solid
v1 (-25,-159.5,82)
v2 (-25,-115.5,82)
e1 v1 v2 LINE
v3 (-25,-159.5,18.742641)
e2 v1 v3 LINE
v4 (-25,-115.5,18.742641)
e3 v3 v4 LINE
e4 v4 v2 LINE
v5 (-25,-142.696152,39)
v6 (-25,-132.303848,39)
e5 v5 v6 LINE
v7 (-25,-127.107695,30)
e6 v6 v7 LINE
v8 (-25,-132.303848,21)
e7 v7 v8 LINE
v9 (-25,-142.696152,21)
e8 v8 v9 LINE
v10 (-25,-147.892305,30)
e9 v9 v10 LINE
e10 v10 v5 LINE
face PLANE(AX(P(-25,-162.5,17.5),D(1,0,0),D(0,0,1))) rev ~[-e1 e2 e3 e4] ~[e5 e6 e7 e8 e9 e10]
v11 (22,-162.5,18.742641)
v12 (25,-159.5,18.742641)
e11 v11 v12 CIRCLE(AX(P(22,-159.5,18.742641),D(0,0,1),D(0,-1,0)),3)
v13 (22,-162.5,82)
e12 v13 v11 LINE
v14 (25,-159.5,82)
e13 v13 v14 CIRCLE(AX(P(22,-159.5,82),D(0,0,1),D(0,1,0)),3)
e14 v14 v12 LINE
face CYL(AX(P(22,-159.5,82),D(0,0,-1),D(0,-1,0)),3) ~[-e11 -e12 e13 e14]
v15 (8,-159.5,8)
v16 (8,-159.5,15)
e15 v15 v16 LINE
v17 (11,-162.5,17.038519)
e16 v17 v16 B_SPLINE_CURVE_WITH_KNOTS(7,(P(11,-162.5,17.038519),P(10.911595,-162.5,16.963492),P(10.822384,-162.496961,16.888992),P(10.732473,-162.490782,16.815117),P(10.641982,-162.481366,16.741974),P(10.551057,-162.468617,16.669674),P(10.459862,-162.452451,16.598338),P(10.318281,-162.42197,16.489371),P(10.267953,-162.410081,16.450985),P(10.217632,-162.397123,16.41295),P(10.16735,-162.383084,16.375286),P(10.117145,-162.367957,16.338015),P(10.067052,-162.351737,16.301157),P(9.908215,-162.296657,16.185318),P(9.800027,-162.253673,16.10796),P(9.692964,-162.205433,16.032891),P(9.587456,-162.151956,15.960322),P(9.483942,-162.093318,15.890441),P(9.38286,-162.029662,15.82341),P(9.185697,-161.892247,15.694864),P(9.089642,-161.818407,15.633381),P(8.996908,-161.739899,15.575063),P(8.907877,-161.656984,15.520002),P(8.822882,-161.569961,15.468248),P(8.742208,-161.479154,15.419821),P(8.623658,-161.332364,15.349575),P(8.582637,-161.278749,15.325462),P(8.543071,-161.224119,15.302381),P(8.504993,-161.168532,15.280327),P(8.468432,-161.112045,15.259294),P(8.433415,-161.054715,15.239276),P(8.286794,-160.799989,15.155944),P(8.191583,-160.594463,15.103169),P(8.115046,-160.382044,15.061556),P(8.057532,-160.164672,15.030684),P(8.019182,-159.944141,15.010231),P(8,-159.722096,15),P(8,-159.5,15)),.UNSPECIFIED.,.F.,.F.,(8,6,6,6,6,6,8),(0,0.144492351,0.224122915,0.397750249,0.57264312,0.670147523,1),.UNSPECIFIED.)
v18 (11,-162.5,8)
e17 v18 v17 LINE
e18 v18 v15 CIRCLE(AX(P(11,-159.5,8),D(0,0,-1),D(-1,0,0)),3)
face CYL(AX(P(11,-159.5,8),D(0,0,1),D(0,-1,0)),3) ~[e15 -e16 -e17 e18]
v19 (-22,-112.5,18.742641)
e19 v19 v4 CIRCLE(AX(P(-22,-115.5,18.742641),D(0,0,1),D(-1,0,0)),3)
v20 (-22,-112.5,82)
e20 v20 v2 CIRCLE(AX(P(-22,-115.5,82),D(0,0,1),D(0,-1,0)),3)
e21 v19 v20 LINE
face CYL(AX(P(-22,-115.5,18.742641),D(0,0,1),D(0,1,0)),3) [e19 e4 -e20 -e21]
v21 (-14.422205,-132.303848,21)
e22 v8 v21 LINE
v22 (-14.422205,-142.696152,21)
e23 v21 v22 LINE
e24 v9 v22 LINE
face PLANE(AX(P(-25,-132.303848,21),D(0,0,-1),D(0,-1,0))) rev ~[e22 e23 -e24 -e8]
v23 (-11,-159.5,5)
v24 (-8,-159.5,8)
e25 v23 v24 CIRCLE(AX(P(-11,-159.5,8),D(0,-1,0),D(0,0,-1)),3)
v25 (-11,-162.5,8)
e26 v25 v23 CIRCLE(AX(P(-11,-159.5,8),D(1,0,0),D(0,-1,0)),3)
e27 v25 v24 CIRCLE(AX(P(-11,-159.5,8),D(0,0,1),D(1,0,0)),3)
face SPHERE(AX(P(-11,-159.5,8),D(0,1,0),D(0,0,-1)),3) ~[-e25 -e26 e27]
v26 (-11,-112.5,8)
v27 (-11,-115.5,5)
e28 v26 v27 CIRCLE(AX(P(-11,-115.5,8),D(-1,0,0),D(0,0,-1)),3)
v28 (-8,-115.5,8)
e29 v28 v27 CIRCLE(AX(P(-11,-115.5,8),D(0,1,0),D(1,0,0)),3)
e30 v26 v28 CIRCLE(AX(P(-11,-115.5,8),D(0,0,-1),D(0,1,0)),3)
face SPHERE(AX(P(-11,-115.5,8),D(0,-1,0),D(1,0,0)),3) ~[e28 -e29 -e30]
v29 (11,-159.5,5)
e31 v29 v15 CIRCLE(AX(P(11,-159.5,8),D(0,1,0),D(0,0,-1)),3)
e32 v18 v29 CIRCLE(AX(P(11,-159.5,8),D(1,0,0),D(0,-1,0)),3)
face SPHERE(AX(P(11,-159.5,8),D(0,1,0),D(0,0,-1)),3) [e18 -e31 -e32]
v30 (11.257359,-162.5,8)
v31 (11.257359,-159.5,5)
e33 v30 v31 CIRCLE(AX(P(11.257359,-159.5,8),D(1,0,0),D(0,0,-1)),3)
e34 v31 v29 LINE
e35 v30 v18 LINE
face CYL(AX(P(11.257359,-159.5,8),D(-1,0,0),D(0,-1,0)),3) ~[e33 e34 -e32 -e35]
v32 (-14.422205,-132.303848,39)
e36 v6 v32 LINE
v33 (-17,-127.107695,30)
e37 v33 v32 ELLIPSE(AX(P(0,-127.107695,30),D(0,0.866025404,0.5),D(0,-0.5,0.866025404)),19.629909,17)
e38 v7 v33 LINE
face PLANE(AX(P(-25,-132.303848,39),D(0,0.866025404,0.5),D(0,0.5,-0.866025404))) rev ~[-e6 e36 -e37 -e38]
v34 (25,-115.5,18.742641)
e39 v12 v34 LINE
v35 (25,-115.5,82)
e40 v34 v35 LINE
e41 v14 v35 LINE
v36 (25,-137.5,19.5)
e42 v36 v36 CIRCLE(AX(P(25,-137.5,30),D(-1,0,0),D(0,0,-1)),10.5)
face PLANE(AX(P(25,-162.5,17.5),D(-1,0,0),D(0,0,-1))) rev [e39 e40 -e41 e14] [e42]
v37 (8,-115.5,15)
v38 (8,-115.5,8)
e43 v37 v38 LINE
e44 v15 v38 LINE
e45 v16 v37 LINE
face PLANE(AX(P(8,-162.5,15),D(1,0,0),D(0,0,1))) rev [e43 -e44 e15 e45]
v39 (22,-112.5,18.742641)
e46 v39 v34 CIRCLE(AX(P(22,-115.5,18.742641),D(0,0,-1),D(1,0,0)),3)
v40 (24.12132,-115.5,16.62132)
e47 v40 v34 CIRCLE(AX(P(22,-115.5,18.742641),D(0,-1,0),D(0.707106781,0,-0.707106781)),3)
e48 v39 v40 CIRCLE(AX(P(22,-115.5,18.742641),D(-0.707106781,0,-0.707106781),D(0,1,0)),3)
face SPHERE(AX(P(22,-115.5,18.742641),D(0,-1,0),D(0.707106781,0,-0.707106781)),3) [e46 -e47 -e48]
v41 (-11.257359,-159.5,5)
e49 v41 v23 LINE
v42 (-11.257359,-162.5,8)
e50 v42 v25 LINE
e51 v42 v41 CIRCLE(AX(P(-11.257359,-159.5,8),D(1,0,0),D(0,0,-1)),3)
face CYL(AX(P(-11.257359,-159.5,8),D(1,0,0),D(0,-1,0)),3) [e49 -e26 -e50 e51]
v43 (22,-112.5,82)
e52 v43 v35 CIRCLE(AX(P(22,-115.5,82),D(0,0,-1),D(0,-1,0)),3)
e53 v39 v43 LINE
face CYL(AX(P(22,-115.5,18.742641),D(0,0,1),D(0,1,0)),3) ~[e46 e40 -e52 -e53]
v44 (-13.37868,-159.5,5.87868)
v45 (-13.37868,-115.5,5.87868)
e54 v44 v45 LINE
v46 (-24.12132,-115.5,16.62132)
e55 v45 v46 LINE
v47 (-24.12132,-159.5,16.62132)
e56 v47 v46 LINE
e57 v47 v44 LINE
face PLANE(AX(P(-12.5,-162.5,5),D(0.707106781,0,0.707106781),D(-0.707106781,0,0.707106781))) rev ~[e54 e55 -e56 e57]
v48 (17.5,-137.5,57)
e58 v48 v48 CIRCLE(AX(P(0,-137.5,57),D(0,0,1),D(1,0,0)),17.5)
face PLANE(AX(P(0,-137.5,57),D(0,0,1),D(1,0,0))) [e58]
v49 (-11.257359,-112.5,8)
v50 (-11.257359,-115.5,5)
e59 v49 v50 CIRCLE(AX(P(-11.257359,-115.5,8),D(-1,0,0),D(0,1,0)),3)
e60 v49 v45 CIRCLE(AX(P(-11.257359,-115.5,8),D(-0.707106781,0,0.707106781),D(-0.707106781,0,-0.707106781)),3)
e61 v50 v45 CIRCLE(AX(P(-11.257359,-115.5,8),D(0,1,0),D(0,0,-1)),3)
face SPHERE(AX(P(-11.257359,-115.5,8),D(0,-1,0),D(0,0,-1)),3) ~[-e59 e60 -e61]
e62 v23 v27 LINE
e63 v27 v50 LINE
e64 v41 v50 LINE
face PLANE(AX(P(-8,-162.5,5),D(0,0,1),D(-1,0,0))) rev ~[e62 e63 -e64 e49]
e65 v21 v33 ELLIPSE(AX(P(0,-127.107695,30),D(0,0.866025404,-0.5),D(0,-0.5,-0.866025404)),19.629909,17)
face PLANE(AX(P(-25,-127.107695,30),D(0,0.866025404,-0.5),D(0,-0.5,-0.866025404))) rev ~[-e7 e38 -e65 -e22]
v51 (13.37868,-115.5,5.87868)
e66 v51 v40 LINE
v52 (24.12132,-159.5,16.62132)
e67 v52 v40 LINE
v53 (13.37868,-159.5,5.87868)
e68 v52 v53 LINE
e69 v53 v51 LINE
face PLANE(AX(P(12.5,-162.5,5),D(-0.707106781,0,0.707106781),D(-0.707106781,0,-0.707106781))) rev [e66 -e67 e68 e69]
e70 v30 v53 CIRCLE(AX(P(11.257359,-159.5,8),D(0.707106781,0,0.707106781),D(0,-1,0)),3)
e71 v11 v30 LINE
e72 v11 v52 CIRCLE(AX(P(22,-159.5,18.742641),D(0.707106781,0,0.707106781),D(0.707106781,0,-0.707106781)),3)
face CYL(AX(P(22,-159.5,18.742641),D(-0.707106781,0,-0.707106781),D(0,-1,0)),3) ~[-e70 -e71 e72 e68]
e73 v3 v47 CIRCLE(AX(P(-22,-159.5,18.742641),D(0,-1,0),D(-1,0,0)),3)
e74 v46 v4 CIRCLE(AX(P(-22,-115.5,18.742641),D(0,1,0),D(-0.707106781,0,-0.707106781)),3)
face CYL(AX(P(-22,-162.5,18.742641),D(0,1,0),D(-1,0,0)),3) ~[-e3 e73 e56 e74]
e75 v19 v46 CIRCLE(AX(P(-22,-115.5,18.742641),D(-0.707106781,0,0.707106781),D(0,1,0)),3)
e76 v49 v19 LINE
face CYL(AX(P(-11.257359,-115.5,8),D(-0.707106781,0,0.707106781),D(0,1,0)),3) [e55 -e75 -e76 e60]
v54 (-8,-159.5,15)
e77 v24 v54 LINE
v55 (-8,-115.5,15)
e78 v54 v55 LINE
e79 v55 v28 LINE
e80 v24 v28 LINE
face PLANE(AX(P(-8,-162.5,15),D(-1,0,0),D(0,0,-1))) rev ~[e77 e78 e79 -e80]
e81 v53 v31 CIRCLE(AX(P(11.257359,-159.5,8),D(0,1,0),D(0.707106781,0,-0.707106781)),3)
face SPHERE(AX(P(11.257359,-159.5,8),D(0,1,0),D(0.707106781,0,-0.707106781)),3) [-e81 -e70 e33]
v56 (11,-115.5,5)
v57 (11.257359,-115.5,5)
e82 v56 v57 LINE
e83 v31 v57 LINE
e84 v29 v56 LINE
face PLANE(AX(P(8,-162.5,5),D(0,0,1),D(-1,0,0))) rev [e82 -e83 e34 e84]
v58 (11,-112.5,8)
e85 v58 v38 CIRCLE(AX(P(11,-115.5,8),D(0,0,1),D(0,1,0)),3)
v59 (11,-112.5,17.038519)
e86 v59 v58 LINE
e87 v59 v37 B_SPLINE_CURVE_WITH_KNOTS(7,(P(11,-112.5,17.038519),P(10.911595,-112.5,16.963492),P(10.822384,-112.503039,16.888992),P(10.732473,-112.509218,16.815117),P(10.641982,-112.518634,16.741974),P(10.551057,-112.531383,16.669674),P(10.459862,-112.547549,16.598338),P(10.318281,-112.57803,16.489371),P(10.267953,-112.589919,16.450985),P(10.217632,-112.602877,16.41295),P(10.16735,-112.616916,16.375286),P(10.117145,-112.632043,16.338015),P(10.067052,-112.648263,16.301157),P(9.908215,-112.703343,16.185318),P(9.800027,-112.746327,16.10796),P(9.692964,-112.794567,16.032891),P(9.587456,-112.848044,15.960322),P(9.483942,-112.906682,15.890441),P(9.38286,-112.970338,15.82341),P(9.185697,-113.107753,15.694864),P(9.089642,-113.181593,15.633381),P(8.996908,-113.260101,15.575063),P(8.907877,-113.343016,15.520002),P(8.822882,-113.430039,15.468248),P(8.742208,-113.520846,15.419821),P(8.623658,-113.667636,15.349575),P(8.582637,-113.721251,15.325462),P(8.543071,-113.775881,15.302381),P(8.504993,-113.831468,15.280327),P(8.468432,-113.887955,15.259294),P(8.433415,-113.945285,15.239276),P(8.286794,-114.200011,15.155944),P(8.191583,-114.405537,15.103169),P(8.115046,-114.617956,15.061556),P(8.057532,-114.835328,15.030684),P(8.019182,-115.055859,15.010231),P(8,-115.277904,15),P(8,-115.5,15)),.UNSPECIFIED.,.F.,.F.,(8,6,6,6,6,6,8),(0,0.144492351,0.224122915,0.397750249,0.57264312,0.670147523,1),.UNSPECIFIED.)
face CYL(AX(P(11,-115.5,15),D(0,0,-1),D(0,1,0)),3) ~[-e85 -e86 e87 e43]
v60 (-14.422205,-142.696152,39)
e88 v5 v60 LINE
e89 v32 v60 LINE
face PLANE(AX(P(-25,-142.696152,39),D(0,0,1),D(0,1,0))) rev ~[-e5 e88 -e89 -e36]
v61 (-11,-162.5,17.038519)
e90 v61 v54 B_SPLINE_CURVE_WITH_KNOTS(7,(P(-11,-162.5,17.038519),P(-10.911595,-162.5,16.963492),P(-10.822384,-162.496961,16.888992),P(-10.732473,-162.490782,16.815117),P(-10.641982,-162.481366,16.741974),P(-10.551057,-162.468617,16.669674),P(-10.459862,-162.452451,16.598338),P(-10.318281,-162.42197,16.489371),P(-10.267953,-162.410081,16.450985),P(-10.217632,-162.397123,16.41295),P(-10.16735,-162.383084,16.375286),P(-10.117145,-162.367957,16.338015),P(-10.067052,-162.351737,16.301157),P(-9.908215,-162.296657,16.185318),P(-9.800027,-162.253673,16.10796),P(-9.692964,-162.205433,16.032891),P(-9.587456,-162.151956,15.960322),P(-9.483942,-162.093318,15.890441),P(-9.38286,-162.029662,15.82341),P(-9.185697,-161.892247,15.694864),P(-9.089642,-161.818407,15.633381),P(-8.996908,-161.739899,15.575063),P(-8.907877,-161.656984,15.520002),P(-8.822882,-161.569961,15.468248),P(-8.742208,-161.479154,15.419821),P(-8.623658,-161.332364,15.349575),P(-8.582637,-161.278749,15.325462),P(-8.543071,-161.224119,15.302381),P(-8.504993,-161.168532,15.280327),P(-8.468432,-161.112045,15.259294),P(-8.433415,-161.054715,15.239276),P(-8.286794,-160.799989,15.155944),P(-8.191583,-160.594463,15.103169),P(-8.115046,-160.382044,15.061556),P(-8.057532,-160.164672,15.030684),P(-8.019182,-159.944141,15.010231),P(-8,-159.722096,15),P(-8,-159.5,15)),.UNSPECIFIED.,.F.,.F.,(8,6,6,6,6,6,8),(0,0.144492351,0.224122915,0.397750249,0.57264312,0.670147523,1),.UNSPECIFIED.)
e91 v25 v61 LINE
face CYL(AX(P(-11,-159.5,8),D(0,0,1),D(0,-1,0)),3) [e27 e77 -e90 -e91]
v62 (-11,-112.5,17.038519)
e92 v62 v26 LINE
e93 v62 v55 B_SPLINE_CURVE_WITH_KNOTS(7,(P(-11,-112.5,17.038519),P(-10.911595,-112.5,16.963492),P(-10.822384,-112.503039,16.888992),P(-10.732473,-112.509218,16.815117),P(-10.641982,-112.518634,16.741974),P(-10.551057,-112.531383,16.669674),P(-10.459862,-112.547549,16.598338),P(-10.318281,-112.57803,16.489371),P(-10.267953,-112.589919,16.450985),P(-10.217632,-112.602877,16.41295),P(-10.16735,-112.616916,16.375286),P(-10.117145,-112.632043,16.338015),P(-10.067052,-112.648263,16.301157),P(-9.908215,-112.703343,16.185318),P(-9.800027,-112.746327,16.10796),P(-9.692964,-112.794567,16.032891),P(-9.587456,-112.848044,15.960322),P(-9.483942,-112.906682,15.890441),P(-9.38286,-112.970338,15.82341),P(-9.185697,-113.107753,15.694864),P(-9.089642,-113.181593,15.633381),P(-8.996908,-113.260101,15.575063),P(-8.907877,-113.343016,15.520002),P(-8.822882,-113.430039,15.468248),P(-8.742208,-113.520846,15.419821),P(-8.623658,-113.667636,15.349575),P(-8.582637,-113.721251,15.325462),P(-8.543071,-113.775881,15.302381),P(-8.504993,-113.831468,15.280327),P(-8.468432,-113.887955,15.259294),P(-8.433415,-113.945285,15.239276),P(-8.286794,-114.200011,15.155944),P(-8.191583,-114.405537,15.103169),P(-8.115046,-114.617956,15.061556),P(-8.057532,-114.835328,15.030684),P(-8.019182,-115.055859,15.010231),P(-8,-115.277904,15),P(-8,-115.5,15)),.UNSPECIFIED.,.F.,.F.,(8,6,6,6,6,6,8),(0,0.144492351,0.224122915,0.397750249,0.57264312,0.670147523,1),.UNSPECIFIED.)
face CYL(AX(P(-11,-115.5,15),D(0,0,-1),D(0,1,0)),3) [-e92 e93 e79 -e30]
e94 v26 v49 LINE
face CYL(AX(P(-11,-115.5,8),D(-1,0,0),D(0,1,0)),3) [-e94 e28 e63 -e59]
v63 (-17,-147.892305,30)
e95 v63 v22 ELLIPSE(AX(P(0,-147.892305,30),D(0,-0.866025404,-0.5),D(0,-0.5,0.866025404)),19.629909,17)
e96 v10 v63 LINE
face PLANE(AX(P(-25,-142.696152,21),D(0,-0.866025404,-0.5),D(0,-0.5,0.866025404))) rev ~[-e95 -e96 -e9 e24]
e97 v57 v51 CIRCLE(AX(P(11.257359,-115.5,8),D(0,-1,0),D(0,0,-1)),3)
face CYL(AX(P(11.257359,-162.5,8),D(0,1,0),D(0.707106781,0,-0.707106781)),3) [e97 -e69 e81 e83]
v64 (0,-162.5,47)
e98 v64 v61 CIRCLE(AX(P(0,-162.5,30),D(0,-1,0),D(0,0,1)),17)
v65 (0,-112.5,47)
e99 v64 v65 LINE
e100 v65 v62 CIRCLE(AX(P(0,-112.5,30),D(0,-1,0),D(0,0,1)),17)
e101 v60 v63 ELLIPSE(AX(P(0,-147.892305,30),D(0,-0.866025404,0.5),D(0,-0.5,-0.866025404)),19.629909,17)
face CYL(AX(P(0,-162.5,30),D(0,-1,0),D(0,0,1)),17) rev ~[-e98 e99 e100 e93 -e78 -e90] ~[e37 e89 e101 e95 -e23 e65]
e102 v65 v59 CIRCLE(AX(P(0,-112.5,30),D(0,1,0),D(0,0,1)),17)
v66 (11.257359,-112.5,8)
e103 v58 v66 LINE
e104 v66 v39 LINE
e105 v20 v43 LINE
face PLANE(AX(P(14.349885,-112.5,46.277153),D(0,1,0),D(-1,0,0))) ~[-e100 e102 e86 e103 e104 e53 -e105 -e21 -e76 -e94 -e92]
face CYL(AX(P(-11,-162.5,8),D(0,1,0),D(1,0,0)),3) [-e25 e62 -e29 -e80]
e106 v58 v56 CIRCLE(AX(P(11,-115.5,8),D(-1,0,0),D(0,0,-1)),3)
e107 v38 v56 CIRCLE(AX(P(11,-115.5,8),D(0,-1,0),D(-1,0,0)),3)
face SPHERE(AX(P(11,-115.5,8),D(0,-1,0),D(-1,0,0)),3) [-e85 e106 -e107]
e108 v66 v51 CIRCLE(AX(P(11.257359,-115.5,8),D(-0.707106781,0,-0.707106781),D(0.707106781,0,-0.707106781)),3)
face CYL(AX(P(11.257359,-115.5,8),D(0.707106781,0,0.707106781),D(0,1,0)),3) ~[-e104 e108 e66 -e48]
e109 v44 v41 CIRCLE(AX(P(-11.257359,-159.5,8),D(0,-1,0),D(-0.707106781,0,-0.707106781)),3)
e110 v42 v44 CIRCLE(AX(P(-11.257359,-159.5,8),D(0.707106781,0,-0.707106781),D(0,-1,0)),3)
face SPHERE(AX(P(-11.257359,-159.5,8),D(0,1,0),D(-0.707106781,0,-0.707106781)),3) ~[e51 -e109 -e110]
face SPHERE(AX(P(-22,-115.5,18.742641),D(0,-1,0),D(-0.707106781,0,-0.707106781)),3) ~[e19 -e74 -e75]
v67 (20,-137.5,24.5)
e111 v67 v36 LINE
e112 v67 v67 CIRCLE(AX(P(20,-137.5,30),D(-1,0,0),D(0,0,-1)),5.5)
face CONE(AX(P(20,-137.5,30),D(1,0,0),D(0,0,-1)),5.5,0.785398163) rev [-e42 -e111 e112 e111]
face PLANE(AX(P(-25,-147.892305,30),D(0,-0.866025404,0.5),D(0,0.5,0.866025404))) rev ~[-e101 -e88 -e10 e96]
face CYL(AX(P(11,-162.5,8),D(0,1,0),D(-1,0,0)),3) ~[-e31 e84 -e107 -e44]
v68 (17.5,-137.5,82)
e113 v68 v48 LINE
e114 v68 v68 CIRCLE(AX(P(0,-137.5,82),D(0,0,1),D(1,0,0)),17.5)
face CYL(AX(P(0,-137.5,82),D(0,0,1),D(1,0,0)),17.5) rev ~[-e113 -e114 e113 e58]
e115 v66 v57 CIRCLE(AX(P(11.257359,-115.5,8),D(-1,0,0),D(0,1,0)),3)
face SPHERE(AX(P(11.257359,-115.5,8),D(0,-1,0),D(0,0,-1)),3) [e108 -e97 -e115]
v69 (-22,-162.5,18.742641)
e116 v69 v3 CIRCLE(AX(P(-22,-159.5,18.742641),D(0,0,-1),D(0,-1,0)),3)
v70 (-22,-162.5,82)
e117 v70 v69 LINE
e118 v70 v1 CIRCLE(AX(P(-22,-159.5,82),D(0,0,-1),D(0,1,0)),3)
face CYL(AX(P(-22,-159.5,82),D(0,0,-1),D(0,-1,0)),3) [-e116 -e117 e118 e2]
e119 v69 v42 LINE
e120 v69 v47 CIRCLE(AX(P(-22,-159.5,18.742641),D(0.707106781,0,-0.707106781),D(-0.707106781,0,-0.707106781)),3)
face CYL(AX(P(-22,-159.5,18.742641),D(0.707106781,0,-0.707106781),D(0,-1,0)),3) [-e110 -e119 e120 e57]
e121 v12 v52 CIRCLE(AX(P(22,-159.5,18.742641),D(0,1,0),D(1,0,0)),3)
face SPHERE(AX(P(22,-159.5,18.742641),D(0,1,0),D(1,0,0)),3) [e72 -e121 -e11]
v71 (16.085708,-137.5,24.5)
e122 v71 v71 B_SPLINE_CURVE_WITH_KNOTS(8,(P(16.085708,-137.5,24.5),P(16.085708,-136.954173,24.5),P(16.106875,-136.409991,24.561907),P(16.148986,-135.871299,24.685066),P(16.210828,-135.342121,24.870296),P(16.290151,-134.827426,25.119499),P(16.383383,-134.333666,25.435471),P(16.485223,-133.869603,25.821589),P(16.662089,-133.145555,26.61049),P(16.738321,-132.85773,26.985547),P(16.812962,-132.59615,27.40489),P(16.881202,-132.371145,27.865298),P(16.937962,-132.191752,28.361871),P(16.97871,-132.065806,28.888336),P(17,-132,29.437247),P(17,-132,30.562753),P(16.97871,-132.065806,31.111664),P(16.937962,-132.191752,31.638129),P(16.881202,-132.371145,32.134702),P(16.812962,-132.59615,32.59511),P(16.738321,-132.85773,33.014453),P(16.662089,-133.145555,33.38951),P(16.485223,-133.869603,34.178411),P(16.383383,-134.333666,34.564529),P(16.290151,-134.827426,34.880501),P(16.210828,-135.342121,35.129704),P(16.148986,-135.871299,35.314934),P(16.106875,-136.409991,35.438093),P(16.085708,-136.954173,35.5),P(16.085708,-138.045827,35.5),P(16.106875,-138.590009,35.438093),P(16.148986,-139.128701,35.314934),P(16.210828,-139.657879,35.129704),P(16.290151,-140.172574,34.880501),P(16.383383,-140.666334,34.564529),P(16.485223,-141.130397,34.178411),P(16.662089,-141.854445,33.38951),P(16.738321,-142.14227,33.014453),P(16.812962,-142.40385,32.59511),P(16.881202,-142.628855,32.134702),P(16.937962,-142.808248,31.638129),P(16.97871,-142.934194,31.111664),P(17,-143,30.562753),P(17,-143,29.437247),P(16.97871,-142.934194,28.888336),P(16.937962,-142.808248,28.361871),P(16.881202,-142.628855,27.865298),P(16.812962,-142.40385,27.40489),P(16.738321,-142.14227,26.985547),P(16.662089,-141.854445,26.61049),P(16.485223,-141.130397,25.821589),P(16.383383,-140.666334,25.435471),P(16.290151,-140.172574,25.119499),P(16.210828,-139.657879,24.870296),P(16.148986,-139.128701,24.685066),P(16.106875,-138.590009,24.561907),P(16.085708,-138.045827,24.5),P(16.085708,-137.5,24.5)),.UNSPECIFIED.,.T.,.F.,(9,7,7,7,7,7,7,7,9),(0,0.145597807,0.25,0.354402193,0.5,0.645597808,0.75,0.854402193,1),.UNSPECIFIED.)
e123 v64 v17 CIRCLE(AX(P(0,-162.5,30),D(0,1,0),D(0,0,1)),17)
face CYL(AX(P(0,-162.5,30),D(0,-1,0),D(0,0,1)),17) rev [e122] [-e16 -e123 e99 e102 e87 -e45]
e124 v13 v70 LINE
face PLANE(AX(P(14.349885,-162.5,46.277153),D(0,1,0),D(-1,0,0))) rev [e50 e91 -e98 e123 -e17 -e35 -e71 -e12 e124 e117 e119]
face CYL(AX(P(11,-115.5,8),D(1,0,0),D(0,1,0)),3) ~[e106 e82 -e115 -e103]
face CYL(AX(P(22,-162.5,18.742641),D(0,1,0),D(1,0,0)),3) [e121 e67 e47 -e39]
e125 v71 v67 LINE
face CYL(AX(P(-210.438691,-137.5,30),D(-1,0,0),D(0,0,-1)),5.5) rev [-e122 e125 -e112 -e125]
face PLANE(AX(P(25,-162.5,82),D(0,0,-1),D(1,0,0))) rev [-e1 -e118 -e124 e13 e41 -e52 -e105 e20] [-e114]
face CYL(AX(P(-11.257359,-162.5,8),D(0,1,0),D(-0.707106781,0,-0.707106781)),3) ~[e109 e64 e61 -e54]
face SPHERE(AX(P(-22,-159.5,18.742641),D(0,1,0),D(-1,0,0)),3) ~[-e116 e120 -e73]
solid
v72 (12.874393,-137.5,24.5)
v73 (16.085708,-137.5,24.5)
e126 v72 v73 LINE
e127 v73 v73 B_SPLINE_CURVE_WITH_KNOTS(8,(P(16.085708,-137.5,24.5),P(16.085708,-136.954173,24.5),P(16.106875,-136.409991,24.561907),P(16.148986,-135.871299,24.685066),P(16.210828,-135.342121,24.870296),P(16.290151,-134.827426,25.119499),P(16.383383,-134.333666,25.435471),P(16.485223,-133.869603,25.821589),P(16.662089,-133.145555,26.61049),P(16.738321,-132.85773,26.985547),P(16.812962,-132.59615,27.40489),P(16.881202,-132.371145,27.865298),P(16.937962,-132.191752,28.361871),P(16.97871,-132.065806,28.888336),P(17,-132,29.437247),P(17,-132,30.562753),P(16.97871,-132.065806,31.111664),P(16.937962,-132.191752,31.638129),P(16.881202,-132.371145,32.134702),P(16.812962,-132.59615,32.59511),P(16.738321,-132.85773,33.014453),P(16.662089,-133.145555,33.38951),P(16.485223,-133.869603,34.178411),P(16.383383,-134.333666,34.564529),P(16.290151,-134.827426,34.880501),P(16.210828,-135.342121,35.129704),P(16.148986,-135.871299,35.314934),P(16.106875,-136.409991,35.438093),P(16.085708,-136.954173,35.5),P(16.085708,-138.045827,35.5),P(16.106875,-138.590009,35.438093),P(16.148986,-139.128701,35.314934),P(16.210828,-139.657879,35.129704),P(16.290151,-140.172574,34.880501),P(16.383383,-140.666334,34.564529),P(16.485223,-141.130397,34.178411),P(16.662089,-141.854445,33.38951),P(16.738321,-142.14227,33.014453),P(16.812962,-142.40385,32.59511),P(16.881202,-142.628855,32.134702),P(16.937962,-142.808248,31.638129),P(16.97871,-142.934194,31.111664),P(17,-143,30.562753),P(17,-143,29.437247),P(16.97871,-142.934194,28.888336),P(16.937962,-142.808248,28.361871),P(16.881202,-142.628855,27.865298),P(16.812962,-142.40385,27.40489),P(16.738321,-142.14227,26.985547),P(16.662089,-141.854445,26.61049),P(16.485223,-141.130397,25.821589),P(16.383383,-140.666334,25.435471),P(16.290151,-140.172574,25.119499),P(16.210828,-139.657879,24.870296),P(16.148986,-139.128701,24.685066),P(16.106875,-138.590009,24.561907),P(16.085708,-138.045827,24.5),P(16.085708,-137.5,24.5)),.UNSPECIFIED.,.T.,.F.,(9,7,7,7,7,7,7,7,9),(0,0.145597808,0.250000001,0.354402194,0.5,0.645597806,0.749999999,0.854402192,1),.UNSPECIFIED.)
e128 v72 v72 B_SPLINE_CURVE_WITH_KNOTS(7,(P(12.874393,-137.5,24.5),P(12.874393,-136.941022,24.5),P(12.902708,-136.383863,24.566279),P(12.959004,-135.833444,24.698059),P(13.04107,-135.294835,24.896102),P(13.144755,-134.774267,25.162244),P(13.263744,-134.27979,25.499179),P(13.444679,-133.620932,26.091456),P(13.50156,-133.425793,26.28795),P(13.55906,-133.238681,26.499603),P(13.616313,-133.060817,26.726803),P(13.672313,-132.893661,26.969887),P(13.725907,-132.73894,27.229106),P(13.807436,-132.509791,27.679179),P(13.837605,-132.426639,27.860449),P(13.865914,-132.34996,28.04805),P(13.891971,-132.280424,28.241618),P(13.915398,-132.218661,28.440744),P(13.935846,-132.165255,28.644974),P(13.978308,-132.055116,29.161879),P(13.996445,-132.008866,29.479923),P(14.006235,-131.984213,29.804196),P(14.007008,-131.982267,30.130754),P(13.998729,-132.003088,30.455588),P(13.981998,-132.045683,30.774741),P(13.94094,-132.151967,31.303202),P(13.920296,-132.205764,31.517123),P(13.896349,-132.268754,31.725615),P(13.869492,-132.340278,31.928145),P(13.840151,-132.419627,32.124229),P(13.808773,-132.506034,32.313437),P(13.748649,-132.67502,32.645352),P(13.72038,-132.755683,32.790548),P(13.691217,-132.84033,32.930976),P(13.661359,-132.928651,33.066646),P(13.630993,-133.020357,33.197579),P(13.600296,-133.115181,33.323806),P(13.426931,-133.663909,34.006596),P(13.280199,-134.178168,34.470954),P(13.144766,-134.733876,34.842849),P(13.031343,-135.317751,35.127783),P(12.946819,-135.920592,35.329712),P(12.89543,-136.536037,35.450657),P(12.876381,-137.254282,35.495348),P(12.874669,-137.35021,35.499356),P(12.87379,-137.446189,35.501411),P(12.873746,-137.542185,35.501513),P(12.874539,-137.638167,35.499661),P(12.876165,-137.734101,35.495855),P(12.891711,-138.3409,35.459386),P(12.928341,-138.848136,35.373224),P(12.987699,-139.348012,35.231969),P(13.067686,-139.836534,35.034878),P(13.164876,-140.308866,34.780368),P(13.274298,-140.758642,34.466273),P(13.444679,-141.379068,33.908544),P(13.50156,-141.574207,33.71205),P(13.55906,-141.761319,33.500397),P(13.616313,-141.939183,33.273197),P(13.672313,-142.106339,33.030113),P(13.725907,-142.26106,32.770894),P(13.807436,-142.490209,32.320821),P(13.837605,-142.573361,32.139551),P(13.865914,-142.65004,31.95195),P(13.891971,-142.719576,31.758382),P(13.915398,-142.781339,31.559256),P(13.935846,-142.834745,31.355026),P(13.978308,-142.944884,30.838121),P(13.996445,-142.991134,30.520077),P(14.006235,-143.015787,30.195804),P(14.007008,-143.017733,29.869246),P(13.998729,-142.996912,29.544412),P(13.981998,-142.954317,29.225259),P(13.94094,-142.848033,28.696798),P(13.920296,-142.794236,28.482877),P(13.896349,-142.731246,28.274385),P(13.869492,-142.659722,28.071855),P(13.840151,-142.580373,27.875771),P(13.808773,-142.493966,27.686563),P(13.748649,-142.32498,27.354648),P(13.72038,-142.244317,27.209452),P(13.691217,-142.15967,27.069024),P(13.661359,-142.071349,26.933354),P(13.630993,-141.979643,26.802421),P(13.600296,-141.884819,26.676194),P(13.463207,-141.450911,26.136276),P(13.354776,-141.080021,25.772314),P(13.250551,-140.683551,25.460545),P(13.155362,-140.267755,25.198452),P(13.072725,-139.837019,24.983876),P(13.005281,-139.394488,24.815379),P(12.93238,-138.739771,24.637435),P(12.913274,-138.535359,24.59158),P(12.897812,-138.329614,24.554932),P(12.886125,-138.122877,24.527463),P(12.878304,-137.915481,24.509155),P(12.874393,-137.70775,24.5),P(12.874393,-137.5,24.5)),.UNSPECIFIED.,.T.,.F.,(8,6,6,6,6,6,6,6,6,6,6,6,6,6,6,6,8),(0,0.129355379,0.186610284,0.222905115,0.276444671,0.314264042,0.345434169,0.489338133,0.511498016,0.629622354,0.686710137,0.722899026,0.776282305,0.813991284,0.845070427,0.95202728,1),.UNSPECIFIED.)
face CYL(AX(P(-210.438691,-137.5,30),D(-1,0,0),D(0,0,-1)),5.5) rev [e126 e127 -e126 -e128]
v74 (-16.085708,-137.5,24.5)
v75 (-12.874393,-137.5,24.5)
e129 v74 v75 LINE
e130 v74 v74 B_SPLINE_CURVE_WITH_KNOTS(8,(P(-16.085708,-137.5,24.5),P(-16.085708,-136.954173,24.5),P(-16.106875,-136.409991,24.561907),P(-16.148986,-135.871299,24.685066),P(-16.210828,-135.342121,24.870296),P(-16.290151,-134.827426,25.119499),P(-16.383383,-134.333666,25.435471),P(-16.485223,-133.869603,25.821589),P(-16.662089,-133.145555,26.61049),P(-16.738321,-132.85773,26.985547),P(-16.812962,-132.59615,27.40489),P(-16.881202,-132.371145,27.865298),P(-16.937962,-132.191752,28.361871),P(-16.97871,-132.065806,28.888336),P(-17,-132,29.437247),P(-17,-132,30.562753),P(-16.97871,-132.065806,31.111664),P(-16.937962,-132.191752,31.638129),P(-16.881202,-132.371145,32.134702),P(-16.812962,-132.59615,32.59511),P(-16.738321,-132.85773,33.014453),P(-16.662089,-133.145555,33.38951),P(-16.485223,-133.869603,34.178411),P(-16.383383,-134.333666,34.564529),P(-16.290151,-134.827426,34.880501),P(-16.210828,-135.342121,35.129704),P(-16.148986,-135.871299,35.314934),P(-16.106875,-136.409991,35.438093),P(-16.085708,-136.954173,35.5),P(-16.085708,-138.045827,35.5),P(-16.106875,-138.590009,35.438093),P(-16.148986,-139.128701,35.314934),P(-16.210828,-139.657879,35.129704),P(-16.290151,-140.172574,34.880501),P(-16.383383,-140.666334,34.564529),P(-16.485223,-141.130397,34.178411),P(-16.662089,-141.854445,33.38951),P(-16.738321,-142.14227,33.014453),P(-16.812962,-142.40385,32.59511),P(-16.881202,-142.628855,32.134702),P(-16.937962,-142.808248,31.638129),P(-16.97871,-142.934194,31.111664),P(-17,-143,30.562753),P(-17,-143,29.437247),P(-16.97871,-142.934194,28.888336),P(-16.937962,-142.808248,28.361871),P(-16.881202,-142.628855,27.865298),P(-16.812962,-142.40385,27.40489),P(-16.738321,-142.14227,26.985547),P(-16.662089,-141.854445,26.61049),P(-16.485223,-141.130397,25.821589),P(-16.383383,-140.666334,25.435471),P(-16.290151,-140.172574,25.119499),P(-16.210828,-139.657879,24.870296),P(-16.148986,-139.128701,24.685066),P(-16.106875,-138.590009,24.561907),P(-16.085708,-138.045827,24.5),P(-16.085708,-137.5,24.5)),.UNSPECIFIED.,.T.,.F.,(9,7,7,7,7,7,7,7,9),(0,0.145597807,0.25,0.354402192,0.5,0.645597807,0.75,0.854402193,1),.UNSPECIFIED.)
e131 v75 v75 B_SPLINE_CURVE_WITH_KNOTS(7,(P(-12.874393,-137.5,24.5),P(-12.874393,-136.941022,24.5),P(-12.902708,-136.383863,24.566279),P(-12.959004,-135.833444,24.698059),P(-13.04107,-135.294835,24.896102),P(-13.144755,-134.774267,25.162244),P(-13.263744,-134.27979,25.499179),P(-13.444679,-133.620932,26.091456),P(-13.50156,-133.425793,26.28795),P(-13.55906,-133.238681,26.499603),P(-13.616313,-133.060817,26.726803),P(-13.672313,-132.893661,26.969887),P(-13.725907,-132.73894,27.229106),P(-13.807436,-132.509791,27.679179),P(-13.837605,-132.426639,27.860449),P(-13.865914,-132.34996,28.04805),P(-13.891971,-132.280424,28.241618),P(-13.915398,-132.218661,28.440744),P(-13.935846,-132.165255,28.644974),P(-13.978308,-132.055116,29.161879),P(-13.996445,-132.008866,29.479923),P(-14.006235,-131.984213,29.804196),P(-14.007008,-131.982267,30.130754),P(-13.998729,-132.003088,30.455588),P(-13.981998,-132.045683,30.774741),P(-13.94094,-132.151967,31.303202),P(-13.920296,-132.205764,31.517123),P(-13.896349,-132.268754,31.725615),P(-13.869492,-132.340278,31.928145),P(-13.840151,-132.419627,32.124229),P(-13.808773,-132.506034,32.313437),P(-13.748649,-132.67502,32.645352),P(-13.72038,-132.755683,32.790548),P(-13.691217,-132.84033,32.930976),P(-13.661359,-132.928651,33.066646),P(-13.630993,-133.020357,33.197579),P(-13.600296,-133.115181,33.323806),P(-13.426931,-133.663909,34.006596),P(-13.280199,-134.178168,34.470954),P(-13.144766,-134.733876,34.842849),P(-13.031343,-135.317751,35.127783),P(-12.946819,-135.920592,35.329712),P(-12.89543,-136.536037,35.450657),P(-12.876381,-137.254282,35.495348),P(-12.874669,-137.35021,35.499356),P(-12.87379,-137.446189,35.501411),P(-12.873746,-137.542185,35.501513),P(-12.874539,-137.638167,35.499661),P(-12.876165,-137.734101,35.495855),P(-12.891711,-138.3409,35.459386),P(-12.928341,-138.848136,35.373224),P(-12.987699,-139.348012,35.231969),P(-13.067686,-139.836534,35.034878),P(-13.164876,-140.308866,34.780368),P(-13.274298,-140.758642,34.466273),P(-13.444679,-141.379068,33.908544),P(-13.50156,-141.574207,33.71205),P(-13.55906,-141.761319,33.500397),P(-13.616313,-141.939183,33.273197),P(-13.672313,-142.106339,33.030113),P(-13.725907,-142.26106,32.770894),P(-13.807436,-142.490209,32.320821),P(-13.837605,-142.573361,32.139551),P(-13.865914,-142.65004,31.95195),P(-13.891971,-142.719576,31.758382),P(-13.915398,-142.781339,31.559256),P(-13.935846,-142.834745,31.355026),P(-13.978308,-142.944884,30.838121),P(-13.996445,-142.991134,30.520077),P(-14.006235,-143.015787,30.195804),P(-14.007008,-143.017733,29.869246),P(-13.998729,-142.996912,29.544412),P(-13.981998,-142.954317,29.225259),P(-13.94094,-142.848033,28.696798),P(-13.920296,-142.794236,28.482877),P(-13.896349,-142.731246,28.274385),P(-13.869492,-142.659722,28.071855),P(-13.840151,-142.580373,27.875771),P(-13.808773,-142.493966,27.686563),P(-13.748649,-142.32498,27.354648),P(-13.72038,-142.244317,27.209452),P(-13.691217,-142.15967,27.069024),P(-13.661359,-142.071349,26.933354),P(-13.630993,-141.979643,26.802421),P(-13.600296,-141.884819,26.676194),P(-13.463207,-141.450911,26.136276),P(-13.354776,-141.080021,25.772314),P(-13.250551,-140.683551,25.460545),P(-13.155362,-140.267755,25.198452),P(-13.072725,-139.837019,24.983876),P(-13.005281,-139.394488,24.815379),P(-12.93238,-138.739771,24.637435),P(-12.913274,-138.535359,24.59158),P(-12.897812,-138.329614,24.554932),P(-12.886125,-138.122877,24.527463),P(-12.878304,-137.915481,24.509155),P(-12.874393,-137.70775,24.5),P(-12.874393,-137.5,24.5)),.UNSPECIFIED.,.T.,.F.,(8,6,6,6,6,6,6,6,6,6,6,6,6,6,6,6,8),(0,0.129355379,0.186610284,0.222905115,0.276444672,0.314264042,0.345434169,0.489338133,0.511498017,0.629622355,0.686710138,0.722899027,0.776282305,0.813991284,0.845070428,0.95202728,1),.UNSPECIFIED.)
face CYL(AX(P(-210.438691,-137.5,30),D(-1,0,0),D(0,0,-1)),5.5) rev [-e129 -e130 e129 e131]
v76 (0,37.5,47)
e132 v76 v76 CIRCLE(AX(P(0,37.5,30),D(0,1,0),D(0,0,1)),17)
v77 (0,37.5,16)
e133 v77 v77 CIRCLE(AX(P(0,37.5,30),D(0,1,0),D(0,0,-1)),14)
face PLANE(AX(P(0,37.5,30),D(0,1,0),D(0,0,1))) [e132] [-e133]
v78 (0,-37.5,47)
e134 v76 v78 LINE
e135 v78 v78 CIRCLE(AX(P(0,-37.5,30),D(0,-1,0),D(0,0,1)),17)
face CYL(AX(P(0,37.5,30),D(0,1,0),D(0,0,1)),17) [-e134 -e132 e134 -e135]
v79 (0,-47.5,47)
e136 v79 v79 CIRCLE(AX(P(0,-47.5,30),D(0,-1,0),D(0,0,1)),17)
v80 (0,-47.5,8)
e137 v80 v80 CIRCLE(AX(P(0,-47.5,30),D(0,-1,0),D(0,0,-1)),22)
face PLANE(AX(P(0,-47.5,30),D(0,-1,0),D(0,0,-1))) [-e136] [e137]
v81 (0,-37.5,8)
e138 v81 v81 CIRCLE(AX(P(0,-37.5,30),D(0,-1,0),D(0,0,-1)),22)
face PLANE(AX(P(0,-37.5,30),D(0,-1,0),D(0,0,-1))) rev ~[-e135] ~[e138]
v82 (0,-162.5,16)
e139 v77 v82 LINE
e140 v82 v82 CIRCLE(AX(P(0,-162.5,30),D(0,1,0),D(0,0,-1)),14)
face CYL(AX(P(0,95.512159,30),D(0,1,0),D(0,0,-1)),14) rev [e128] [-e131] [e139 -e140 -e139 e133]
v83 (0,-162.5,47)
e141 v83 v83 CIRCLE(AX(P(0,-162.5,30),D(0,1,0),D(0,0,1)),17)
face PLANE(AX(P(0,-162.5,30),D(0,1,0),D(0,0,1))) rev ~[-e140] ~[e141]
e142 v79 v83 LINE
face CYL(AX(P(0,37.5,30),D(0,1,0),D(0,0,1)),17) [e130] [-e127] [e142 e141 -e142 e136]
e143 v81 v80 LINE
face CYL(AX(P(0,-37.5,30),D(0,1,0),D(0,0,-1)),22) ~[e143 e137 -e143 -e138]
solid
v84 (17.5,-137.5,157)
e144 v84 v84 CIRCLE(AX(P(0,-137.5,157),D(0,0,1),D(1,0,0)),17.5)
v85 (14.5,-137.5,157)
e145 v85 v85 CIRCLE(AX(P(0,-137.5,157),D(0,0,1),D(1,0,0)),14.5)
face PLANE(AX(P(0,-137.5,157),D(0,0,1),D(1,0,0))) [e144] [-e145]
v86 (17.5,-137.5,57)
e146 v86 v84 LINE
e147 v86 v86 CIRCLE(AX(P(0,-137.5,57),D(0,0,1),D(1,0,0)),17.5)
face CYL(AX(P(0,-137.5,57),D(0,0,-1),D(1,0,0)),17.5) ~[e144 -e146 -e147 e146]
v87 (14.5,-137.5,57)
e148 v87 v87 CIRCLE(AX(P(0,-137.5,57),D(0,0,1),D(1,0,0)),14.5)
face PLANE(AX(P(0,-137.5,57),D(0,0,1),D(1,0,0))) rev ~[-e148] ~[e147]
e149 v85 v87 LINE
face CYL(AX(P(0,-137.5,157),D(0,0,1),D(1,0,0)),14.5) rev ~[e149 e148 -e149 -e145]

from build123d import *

# Parameters (mm, degrees)
SKETCH1_W               = 75
SKETCH1_H               = 75
BOSS_EXTRUDE1_DEPTH     = 8
FILLET1_R               = 10
SKETCH2_R               = 17.5
BOSS_EXTRUDE2_DEPTH     = 37.5
SKETCH3_R               = 17
BOSS_EXTRUDE3_DEPTH     = 200
SKETCH4_R               = 22
SKETCH4_R_2             = 17
BOSS_EXTRUDE4_DEPTH     = 10
BOSS_EXTRUDE5_DEPTH     = 50
SKETCH6_R               = 17.5
CUT_EXTRUDE1_DEPTH      = 25
SKETCH7_R               = 17.5
BOSS_EXTRUDE6_DEPTH     = 100
CUT_EXTRUDE2_DEPTH      = 235.438691346
CUT_EXTRUDE2_DEPTH_BACK = 235.438691346
SKETCH8_R               = 5.5
CUT_EXTRUDE3_DEPTH      = 258.012159245
CUT_EXTRUDE3_DEPTH_BACK = 258.012159245
SKETCH10_R              = 14
CHAMFER1_SIZE           = 5
CUT_EXTRUDE4_DEPTH      = 12
FILLET3_R               = 3
FILLET2_R               = 3
SKETCH12_R              = 14.5
CUT_EXTRUDE5_DEPTH      = 224.909021776


with BuildPart() as part:
    # Sketch1 → Boss-Extrude1 (new body)
    with BuildSketch(Plane.XY):
        Rectangle(SKETCH1_W, SKETCH1_H)
    extrude(amount=BOSS_EXTRUDE1_DEPTH)

    # Fillet1
    fillet1_edges = [part.edges().sort_by_distance(p)[0] for p in [
        (37.5, -37.5, 4),
        (-37.5, -37.5, 4),
        (-37.5, 37.5, 4),
        (37.5, 37.5, 4),
    ]]
    fillet(fillet1_edges, radius=FILLET1_R)

    # Sketch2 → Boss-Extrude2 (add, symmetric)
    with BuildSketch(Plane(origin=(0, 0, 0), x_dir=(1, 0, 0), z_dir=(0, 1, 0))):
        with BuildLine():
            Line((-27.5, -8), (-27.5, -30))
            ThreePointArc((-27.5, -30), (0, -57.5), (27.5, -30))
            Line((27.5, -30), (27.5, -8))
            Line((27.5, -8), (-27.5, -8))
        make_face()
        with Locations(Location((0, -30, 0), (0, 0, 270))):
            Circle(SKETCH2_R, mode=Mode.SUBTRACT)
    extrude(amount=BOSS_EXTRUDE2_DEPTH, both=True)


with BuildPart() as body_2:
    # Sketch3 → Boss-Extrude3 (new body)
    with BuildSketch(Plane(origin=(0, 37.5, 0), x_dir=(1, 0, 0), z_dir=(0, 1, 0))):
        with Locations(Location((0, -30, 0), (0, 0, 270))):
            Circle(SKETCH3_R)
    extrude(amount=-BOSS_EXTRUDE3_DEPTH)

    # Sketch4 → Boss-Extrude4 (add)
    with BuildSketch(Plane.XZ.offset(37.5)):
        with Locations(Location((0, 30, 0), (0, 0, 270))):
            Circle(SKETCH4_R)
        with Locations(Location((0, 30, 0), (0, 0, 90))):
            Circle(SKETCH4_R_2, mode=Mode.SUBTRACT)
    extrude(amount=BOSS_EXTRUDE4_DEPTH)


with BuildPart() as body_3:
    # Sketch5 → Boss-Extrude5 (new body)
    with BuildSketch(Plane.XZ.offset(162.5)):
        with BuildLine():
            Line((-8, 15), (-8, 5))
            Line((-8, 5), (-12.5, 5))
            Line((-12.5, 5), (-25, 17.5))
            Line((-25, 17.5), (-25, 82))
            Line((-25, 82), (0, 82))
            Line((0, 82), (0, 47))
            ThreePointArc((0, 47), (-16.492422502, 34.123105626), (-8, 15))
        make_face()
    extrude(amount=-BOSS_EXTRUDE5_DEPTH)

    # Mirror1: body 3 across plane


with BuildPart() as body_3_1:
    add(body_3.part)
    add(body_3.part.mirror(Plane(origin=(0, -112.5, 82), x_dir=(0, 0, 1), z_dir=(1, 0, 0))))

    # Sketch6 → Cut-Extrude1 (cut)
    with BuildSketch(Plane.XY.offset(82)):
        with Locations((0, -137.5)):
            Circle(SKETCH6_R)
    extrude(amount=-CUT_EXTRUDE1_DEPTH, mode=Mode.SUBTRACT)


with BuildPart() as body_4:
    # Sketch7 → Boss-Extrude6 (new body)
    with BuildSketch(Plane.XY.offset(57)):
        with Locations((0, -137.5)):
            Circle(SKETCH7_R)
    extrude(amount=BOSS_EXTRUDE6_DEPTH)

    # Sketch12 → Cut-Extrude5 (cut, through all)
    with BuildSketch(Plane.XY.offset(157)):
        with Locations((0, -137.5)):
            Circle(SKETCH12_R)
    extrude(amount=-CUT_EXTRUDE5_DEPTH, mode=Mode.SUBTRACT)


with BuildPart() as cut_extrude2_tool:
    # Sketch8 → Cut-Extrude2 (new, two sides: drawn at the far end of the back side and taken through both)
    with BuildSketch(Plane(origin=(25, 0, 0), x_dir=(0, 0, -1), z_dir=(1, 0, 0)).offset(-CUT_EXTRUDE2_DEPTH_BACK)):
        with Locations((-30, -137.5)):
            Circle(SKETCH8_R)
    extrude(amount=CUT_EXTRUDE2_DEPTH + CUT_EXTRUDE2_DEPTH_BACK)


with BuildPart() as body_2_1:
    add(body_2.part)

    # Cut-Extrude2: cut by cut_extrude2_tool
    add(cut_extrude2_tool.part, mode=Mode.SUBTRACT)

    # Sketch10 → Cut-Extrude3 (cut, two sides: drawn at the far end of the back side and taken through both)
    with BuildSketch(Plane.XZ.offset(162.5).offset(-CUT_EXTRUDE3_DEPTH_BACK)):
        with Locations(Location((0, 30, 0), (0, 0, 270))):
            Circle(SKETCH10_R)
    extrude(amount=CUT_EXTRUDE3_DEPTH + CUT_EXTRUDE3_DEPTH_BACK, mode=Mode.SUBTRACT)


with BuildPart() as body_3_2:
    add(body_3_1.part)

    # Cut-Extrude2: cut by cut_extrude2_tool
    add(cut_extrude2_tool.part, mode=Mode.SUBTRACT)

    # Chamfer1
    chamfer1_edges = [body_3_2.edges().sort_by_distance(p)[0] for p in [
        (25, -137.5, 35.5),
    ]]
    chamfer(chamfer1_edges, length=CHAMFER1_SIZE)

    # Sketch11 → Cut-Extrude4 (cut)
    with BuildSketch(Plane.ZY.offset(25)):
        Polygon((39, -142.696152423), (39, -132.303847577), (30, -127.107695155), (21, -132.303847577), (21, -142.696152423), (30, -147.892304845), align=None)
    extrude(amount=-CUT_EXTRUDE4_DEPTH, mode=Mode.SUBTRACT)

    # Fillet3
    fillet3_edges = [body_3_2.edges().sort_by_distance(p)[0] for p in [
        (-8, -137.5, 5),
        (-12.5, -137.5, 5),
        (-25, -137.5, 17.5),
        (8, -137.5, 5),
        (12.5, -137.5, 5),
        (25, -137.5, 17.5),
    ]]
    fillet(fillet3_edges, radius=FILLET3_R)

    # Fillet2
    fillet2_edges = [body_3_2.edges().sort_by_distance(p)[0] for p in [
        (12.40540961, -162.5, 5.228361402),
        (-12.40540961, -162.5, 5.228361402),
        (-11.128679656, -112.5, 5),
        (-8, -112.5, 11.5),
        (18.75, -112.5, 11.25),
        (11.128679656, -112.5, 5),
        (8, -112.5, 11.5),
        (-24.771638598, -112.5, 17.59459039),
        (24.771638598, -112.5, 17.59459039),
        (-8.878679656, -112.5, 5.878679656),
        (8.878679656, -112.5, 5.878679656),
        (12.40540961, -112.5, 5.228361402),
        (-12.40540961, -112.5, 5.228361402),
        (-25, -112.5, 50.371320344),
        (25, -162.5, 50.371320344),
        (25, -112.5, 50.371320344),
        (-25, -162.5, 50.371320344),
        (-18.75, -162.5, 11.25),
        (-18.75, -112.5, 11.25),
        (8, -162.5, 11.5),
        (11.128679656, -162.5, 5),
        (18.75, -162.5, 11.25),
        (-11.128679656, -162.5, 5),
        (-8, -162.5, 11.5),
        (-24.771638598, -162.5, 17.59459039),
        (24.771638598, -162.5, 17.59459039),
        (-8.878679656, -162.5, 5.878679656),
        (8.878679656, -162.5, 5.878679656),
    ]]
    fillet(fillet2_edges, radius=FILLET2_R)


solid = Compound([body_4.part, body_2_1.part, body_3_2.part])
